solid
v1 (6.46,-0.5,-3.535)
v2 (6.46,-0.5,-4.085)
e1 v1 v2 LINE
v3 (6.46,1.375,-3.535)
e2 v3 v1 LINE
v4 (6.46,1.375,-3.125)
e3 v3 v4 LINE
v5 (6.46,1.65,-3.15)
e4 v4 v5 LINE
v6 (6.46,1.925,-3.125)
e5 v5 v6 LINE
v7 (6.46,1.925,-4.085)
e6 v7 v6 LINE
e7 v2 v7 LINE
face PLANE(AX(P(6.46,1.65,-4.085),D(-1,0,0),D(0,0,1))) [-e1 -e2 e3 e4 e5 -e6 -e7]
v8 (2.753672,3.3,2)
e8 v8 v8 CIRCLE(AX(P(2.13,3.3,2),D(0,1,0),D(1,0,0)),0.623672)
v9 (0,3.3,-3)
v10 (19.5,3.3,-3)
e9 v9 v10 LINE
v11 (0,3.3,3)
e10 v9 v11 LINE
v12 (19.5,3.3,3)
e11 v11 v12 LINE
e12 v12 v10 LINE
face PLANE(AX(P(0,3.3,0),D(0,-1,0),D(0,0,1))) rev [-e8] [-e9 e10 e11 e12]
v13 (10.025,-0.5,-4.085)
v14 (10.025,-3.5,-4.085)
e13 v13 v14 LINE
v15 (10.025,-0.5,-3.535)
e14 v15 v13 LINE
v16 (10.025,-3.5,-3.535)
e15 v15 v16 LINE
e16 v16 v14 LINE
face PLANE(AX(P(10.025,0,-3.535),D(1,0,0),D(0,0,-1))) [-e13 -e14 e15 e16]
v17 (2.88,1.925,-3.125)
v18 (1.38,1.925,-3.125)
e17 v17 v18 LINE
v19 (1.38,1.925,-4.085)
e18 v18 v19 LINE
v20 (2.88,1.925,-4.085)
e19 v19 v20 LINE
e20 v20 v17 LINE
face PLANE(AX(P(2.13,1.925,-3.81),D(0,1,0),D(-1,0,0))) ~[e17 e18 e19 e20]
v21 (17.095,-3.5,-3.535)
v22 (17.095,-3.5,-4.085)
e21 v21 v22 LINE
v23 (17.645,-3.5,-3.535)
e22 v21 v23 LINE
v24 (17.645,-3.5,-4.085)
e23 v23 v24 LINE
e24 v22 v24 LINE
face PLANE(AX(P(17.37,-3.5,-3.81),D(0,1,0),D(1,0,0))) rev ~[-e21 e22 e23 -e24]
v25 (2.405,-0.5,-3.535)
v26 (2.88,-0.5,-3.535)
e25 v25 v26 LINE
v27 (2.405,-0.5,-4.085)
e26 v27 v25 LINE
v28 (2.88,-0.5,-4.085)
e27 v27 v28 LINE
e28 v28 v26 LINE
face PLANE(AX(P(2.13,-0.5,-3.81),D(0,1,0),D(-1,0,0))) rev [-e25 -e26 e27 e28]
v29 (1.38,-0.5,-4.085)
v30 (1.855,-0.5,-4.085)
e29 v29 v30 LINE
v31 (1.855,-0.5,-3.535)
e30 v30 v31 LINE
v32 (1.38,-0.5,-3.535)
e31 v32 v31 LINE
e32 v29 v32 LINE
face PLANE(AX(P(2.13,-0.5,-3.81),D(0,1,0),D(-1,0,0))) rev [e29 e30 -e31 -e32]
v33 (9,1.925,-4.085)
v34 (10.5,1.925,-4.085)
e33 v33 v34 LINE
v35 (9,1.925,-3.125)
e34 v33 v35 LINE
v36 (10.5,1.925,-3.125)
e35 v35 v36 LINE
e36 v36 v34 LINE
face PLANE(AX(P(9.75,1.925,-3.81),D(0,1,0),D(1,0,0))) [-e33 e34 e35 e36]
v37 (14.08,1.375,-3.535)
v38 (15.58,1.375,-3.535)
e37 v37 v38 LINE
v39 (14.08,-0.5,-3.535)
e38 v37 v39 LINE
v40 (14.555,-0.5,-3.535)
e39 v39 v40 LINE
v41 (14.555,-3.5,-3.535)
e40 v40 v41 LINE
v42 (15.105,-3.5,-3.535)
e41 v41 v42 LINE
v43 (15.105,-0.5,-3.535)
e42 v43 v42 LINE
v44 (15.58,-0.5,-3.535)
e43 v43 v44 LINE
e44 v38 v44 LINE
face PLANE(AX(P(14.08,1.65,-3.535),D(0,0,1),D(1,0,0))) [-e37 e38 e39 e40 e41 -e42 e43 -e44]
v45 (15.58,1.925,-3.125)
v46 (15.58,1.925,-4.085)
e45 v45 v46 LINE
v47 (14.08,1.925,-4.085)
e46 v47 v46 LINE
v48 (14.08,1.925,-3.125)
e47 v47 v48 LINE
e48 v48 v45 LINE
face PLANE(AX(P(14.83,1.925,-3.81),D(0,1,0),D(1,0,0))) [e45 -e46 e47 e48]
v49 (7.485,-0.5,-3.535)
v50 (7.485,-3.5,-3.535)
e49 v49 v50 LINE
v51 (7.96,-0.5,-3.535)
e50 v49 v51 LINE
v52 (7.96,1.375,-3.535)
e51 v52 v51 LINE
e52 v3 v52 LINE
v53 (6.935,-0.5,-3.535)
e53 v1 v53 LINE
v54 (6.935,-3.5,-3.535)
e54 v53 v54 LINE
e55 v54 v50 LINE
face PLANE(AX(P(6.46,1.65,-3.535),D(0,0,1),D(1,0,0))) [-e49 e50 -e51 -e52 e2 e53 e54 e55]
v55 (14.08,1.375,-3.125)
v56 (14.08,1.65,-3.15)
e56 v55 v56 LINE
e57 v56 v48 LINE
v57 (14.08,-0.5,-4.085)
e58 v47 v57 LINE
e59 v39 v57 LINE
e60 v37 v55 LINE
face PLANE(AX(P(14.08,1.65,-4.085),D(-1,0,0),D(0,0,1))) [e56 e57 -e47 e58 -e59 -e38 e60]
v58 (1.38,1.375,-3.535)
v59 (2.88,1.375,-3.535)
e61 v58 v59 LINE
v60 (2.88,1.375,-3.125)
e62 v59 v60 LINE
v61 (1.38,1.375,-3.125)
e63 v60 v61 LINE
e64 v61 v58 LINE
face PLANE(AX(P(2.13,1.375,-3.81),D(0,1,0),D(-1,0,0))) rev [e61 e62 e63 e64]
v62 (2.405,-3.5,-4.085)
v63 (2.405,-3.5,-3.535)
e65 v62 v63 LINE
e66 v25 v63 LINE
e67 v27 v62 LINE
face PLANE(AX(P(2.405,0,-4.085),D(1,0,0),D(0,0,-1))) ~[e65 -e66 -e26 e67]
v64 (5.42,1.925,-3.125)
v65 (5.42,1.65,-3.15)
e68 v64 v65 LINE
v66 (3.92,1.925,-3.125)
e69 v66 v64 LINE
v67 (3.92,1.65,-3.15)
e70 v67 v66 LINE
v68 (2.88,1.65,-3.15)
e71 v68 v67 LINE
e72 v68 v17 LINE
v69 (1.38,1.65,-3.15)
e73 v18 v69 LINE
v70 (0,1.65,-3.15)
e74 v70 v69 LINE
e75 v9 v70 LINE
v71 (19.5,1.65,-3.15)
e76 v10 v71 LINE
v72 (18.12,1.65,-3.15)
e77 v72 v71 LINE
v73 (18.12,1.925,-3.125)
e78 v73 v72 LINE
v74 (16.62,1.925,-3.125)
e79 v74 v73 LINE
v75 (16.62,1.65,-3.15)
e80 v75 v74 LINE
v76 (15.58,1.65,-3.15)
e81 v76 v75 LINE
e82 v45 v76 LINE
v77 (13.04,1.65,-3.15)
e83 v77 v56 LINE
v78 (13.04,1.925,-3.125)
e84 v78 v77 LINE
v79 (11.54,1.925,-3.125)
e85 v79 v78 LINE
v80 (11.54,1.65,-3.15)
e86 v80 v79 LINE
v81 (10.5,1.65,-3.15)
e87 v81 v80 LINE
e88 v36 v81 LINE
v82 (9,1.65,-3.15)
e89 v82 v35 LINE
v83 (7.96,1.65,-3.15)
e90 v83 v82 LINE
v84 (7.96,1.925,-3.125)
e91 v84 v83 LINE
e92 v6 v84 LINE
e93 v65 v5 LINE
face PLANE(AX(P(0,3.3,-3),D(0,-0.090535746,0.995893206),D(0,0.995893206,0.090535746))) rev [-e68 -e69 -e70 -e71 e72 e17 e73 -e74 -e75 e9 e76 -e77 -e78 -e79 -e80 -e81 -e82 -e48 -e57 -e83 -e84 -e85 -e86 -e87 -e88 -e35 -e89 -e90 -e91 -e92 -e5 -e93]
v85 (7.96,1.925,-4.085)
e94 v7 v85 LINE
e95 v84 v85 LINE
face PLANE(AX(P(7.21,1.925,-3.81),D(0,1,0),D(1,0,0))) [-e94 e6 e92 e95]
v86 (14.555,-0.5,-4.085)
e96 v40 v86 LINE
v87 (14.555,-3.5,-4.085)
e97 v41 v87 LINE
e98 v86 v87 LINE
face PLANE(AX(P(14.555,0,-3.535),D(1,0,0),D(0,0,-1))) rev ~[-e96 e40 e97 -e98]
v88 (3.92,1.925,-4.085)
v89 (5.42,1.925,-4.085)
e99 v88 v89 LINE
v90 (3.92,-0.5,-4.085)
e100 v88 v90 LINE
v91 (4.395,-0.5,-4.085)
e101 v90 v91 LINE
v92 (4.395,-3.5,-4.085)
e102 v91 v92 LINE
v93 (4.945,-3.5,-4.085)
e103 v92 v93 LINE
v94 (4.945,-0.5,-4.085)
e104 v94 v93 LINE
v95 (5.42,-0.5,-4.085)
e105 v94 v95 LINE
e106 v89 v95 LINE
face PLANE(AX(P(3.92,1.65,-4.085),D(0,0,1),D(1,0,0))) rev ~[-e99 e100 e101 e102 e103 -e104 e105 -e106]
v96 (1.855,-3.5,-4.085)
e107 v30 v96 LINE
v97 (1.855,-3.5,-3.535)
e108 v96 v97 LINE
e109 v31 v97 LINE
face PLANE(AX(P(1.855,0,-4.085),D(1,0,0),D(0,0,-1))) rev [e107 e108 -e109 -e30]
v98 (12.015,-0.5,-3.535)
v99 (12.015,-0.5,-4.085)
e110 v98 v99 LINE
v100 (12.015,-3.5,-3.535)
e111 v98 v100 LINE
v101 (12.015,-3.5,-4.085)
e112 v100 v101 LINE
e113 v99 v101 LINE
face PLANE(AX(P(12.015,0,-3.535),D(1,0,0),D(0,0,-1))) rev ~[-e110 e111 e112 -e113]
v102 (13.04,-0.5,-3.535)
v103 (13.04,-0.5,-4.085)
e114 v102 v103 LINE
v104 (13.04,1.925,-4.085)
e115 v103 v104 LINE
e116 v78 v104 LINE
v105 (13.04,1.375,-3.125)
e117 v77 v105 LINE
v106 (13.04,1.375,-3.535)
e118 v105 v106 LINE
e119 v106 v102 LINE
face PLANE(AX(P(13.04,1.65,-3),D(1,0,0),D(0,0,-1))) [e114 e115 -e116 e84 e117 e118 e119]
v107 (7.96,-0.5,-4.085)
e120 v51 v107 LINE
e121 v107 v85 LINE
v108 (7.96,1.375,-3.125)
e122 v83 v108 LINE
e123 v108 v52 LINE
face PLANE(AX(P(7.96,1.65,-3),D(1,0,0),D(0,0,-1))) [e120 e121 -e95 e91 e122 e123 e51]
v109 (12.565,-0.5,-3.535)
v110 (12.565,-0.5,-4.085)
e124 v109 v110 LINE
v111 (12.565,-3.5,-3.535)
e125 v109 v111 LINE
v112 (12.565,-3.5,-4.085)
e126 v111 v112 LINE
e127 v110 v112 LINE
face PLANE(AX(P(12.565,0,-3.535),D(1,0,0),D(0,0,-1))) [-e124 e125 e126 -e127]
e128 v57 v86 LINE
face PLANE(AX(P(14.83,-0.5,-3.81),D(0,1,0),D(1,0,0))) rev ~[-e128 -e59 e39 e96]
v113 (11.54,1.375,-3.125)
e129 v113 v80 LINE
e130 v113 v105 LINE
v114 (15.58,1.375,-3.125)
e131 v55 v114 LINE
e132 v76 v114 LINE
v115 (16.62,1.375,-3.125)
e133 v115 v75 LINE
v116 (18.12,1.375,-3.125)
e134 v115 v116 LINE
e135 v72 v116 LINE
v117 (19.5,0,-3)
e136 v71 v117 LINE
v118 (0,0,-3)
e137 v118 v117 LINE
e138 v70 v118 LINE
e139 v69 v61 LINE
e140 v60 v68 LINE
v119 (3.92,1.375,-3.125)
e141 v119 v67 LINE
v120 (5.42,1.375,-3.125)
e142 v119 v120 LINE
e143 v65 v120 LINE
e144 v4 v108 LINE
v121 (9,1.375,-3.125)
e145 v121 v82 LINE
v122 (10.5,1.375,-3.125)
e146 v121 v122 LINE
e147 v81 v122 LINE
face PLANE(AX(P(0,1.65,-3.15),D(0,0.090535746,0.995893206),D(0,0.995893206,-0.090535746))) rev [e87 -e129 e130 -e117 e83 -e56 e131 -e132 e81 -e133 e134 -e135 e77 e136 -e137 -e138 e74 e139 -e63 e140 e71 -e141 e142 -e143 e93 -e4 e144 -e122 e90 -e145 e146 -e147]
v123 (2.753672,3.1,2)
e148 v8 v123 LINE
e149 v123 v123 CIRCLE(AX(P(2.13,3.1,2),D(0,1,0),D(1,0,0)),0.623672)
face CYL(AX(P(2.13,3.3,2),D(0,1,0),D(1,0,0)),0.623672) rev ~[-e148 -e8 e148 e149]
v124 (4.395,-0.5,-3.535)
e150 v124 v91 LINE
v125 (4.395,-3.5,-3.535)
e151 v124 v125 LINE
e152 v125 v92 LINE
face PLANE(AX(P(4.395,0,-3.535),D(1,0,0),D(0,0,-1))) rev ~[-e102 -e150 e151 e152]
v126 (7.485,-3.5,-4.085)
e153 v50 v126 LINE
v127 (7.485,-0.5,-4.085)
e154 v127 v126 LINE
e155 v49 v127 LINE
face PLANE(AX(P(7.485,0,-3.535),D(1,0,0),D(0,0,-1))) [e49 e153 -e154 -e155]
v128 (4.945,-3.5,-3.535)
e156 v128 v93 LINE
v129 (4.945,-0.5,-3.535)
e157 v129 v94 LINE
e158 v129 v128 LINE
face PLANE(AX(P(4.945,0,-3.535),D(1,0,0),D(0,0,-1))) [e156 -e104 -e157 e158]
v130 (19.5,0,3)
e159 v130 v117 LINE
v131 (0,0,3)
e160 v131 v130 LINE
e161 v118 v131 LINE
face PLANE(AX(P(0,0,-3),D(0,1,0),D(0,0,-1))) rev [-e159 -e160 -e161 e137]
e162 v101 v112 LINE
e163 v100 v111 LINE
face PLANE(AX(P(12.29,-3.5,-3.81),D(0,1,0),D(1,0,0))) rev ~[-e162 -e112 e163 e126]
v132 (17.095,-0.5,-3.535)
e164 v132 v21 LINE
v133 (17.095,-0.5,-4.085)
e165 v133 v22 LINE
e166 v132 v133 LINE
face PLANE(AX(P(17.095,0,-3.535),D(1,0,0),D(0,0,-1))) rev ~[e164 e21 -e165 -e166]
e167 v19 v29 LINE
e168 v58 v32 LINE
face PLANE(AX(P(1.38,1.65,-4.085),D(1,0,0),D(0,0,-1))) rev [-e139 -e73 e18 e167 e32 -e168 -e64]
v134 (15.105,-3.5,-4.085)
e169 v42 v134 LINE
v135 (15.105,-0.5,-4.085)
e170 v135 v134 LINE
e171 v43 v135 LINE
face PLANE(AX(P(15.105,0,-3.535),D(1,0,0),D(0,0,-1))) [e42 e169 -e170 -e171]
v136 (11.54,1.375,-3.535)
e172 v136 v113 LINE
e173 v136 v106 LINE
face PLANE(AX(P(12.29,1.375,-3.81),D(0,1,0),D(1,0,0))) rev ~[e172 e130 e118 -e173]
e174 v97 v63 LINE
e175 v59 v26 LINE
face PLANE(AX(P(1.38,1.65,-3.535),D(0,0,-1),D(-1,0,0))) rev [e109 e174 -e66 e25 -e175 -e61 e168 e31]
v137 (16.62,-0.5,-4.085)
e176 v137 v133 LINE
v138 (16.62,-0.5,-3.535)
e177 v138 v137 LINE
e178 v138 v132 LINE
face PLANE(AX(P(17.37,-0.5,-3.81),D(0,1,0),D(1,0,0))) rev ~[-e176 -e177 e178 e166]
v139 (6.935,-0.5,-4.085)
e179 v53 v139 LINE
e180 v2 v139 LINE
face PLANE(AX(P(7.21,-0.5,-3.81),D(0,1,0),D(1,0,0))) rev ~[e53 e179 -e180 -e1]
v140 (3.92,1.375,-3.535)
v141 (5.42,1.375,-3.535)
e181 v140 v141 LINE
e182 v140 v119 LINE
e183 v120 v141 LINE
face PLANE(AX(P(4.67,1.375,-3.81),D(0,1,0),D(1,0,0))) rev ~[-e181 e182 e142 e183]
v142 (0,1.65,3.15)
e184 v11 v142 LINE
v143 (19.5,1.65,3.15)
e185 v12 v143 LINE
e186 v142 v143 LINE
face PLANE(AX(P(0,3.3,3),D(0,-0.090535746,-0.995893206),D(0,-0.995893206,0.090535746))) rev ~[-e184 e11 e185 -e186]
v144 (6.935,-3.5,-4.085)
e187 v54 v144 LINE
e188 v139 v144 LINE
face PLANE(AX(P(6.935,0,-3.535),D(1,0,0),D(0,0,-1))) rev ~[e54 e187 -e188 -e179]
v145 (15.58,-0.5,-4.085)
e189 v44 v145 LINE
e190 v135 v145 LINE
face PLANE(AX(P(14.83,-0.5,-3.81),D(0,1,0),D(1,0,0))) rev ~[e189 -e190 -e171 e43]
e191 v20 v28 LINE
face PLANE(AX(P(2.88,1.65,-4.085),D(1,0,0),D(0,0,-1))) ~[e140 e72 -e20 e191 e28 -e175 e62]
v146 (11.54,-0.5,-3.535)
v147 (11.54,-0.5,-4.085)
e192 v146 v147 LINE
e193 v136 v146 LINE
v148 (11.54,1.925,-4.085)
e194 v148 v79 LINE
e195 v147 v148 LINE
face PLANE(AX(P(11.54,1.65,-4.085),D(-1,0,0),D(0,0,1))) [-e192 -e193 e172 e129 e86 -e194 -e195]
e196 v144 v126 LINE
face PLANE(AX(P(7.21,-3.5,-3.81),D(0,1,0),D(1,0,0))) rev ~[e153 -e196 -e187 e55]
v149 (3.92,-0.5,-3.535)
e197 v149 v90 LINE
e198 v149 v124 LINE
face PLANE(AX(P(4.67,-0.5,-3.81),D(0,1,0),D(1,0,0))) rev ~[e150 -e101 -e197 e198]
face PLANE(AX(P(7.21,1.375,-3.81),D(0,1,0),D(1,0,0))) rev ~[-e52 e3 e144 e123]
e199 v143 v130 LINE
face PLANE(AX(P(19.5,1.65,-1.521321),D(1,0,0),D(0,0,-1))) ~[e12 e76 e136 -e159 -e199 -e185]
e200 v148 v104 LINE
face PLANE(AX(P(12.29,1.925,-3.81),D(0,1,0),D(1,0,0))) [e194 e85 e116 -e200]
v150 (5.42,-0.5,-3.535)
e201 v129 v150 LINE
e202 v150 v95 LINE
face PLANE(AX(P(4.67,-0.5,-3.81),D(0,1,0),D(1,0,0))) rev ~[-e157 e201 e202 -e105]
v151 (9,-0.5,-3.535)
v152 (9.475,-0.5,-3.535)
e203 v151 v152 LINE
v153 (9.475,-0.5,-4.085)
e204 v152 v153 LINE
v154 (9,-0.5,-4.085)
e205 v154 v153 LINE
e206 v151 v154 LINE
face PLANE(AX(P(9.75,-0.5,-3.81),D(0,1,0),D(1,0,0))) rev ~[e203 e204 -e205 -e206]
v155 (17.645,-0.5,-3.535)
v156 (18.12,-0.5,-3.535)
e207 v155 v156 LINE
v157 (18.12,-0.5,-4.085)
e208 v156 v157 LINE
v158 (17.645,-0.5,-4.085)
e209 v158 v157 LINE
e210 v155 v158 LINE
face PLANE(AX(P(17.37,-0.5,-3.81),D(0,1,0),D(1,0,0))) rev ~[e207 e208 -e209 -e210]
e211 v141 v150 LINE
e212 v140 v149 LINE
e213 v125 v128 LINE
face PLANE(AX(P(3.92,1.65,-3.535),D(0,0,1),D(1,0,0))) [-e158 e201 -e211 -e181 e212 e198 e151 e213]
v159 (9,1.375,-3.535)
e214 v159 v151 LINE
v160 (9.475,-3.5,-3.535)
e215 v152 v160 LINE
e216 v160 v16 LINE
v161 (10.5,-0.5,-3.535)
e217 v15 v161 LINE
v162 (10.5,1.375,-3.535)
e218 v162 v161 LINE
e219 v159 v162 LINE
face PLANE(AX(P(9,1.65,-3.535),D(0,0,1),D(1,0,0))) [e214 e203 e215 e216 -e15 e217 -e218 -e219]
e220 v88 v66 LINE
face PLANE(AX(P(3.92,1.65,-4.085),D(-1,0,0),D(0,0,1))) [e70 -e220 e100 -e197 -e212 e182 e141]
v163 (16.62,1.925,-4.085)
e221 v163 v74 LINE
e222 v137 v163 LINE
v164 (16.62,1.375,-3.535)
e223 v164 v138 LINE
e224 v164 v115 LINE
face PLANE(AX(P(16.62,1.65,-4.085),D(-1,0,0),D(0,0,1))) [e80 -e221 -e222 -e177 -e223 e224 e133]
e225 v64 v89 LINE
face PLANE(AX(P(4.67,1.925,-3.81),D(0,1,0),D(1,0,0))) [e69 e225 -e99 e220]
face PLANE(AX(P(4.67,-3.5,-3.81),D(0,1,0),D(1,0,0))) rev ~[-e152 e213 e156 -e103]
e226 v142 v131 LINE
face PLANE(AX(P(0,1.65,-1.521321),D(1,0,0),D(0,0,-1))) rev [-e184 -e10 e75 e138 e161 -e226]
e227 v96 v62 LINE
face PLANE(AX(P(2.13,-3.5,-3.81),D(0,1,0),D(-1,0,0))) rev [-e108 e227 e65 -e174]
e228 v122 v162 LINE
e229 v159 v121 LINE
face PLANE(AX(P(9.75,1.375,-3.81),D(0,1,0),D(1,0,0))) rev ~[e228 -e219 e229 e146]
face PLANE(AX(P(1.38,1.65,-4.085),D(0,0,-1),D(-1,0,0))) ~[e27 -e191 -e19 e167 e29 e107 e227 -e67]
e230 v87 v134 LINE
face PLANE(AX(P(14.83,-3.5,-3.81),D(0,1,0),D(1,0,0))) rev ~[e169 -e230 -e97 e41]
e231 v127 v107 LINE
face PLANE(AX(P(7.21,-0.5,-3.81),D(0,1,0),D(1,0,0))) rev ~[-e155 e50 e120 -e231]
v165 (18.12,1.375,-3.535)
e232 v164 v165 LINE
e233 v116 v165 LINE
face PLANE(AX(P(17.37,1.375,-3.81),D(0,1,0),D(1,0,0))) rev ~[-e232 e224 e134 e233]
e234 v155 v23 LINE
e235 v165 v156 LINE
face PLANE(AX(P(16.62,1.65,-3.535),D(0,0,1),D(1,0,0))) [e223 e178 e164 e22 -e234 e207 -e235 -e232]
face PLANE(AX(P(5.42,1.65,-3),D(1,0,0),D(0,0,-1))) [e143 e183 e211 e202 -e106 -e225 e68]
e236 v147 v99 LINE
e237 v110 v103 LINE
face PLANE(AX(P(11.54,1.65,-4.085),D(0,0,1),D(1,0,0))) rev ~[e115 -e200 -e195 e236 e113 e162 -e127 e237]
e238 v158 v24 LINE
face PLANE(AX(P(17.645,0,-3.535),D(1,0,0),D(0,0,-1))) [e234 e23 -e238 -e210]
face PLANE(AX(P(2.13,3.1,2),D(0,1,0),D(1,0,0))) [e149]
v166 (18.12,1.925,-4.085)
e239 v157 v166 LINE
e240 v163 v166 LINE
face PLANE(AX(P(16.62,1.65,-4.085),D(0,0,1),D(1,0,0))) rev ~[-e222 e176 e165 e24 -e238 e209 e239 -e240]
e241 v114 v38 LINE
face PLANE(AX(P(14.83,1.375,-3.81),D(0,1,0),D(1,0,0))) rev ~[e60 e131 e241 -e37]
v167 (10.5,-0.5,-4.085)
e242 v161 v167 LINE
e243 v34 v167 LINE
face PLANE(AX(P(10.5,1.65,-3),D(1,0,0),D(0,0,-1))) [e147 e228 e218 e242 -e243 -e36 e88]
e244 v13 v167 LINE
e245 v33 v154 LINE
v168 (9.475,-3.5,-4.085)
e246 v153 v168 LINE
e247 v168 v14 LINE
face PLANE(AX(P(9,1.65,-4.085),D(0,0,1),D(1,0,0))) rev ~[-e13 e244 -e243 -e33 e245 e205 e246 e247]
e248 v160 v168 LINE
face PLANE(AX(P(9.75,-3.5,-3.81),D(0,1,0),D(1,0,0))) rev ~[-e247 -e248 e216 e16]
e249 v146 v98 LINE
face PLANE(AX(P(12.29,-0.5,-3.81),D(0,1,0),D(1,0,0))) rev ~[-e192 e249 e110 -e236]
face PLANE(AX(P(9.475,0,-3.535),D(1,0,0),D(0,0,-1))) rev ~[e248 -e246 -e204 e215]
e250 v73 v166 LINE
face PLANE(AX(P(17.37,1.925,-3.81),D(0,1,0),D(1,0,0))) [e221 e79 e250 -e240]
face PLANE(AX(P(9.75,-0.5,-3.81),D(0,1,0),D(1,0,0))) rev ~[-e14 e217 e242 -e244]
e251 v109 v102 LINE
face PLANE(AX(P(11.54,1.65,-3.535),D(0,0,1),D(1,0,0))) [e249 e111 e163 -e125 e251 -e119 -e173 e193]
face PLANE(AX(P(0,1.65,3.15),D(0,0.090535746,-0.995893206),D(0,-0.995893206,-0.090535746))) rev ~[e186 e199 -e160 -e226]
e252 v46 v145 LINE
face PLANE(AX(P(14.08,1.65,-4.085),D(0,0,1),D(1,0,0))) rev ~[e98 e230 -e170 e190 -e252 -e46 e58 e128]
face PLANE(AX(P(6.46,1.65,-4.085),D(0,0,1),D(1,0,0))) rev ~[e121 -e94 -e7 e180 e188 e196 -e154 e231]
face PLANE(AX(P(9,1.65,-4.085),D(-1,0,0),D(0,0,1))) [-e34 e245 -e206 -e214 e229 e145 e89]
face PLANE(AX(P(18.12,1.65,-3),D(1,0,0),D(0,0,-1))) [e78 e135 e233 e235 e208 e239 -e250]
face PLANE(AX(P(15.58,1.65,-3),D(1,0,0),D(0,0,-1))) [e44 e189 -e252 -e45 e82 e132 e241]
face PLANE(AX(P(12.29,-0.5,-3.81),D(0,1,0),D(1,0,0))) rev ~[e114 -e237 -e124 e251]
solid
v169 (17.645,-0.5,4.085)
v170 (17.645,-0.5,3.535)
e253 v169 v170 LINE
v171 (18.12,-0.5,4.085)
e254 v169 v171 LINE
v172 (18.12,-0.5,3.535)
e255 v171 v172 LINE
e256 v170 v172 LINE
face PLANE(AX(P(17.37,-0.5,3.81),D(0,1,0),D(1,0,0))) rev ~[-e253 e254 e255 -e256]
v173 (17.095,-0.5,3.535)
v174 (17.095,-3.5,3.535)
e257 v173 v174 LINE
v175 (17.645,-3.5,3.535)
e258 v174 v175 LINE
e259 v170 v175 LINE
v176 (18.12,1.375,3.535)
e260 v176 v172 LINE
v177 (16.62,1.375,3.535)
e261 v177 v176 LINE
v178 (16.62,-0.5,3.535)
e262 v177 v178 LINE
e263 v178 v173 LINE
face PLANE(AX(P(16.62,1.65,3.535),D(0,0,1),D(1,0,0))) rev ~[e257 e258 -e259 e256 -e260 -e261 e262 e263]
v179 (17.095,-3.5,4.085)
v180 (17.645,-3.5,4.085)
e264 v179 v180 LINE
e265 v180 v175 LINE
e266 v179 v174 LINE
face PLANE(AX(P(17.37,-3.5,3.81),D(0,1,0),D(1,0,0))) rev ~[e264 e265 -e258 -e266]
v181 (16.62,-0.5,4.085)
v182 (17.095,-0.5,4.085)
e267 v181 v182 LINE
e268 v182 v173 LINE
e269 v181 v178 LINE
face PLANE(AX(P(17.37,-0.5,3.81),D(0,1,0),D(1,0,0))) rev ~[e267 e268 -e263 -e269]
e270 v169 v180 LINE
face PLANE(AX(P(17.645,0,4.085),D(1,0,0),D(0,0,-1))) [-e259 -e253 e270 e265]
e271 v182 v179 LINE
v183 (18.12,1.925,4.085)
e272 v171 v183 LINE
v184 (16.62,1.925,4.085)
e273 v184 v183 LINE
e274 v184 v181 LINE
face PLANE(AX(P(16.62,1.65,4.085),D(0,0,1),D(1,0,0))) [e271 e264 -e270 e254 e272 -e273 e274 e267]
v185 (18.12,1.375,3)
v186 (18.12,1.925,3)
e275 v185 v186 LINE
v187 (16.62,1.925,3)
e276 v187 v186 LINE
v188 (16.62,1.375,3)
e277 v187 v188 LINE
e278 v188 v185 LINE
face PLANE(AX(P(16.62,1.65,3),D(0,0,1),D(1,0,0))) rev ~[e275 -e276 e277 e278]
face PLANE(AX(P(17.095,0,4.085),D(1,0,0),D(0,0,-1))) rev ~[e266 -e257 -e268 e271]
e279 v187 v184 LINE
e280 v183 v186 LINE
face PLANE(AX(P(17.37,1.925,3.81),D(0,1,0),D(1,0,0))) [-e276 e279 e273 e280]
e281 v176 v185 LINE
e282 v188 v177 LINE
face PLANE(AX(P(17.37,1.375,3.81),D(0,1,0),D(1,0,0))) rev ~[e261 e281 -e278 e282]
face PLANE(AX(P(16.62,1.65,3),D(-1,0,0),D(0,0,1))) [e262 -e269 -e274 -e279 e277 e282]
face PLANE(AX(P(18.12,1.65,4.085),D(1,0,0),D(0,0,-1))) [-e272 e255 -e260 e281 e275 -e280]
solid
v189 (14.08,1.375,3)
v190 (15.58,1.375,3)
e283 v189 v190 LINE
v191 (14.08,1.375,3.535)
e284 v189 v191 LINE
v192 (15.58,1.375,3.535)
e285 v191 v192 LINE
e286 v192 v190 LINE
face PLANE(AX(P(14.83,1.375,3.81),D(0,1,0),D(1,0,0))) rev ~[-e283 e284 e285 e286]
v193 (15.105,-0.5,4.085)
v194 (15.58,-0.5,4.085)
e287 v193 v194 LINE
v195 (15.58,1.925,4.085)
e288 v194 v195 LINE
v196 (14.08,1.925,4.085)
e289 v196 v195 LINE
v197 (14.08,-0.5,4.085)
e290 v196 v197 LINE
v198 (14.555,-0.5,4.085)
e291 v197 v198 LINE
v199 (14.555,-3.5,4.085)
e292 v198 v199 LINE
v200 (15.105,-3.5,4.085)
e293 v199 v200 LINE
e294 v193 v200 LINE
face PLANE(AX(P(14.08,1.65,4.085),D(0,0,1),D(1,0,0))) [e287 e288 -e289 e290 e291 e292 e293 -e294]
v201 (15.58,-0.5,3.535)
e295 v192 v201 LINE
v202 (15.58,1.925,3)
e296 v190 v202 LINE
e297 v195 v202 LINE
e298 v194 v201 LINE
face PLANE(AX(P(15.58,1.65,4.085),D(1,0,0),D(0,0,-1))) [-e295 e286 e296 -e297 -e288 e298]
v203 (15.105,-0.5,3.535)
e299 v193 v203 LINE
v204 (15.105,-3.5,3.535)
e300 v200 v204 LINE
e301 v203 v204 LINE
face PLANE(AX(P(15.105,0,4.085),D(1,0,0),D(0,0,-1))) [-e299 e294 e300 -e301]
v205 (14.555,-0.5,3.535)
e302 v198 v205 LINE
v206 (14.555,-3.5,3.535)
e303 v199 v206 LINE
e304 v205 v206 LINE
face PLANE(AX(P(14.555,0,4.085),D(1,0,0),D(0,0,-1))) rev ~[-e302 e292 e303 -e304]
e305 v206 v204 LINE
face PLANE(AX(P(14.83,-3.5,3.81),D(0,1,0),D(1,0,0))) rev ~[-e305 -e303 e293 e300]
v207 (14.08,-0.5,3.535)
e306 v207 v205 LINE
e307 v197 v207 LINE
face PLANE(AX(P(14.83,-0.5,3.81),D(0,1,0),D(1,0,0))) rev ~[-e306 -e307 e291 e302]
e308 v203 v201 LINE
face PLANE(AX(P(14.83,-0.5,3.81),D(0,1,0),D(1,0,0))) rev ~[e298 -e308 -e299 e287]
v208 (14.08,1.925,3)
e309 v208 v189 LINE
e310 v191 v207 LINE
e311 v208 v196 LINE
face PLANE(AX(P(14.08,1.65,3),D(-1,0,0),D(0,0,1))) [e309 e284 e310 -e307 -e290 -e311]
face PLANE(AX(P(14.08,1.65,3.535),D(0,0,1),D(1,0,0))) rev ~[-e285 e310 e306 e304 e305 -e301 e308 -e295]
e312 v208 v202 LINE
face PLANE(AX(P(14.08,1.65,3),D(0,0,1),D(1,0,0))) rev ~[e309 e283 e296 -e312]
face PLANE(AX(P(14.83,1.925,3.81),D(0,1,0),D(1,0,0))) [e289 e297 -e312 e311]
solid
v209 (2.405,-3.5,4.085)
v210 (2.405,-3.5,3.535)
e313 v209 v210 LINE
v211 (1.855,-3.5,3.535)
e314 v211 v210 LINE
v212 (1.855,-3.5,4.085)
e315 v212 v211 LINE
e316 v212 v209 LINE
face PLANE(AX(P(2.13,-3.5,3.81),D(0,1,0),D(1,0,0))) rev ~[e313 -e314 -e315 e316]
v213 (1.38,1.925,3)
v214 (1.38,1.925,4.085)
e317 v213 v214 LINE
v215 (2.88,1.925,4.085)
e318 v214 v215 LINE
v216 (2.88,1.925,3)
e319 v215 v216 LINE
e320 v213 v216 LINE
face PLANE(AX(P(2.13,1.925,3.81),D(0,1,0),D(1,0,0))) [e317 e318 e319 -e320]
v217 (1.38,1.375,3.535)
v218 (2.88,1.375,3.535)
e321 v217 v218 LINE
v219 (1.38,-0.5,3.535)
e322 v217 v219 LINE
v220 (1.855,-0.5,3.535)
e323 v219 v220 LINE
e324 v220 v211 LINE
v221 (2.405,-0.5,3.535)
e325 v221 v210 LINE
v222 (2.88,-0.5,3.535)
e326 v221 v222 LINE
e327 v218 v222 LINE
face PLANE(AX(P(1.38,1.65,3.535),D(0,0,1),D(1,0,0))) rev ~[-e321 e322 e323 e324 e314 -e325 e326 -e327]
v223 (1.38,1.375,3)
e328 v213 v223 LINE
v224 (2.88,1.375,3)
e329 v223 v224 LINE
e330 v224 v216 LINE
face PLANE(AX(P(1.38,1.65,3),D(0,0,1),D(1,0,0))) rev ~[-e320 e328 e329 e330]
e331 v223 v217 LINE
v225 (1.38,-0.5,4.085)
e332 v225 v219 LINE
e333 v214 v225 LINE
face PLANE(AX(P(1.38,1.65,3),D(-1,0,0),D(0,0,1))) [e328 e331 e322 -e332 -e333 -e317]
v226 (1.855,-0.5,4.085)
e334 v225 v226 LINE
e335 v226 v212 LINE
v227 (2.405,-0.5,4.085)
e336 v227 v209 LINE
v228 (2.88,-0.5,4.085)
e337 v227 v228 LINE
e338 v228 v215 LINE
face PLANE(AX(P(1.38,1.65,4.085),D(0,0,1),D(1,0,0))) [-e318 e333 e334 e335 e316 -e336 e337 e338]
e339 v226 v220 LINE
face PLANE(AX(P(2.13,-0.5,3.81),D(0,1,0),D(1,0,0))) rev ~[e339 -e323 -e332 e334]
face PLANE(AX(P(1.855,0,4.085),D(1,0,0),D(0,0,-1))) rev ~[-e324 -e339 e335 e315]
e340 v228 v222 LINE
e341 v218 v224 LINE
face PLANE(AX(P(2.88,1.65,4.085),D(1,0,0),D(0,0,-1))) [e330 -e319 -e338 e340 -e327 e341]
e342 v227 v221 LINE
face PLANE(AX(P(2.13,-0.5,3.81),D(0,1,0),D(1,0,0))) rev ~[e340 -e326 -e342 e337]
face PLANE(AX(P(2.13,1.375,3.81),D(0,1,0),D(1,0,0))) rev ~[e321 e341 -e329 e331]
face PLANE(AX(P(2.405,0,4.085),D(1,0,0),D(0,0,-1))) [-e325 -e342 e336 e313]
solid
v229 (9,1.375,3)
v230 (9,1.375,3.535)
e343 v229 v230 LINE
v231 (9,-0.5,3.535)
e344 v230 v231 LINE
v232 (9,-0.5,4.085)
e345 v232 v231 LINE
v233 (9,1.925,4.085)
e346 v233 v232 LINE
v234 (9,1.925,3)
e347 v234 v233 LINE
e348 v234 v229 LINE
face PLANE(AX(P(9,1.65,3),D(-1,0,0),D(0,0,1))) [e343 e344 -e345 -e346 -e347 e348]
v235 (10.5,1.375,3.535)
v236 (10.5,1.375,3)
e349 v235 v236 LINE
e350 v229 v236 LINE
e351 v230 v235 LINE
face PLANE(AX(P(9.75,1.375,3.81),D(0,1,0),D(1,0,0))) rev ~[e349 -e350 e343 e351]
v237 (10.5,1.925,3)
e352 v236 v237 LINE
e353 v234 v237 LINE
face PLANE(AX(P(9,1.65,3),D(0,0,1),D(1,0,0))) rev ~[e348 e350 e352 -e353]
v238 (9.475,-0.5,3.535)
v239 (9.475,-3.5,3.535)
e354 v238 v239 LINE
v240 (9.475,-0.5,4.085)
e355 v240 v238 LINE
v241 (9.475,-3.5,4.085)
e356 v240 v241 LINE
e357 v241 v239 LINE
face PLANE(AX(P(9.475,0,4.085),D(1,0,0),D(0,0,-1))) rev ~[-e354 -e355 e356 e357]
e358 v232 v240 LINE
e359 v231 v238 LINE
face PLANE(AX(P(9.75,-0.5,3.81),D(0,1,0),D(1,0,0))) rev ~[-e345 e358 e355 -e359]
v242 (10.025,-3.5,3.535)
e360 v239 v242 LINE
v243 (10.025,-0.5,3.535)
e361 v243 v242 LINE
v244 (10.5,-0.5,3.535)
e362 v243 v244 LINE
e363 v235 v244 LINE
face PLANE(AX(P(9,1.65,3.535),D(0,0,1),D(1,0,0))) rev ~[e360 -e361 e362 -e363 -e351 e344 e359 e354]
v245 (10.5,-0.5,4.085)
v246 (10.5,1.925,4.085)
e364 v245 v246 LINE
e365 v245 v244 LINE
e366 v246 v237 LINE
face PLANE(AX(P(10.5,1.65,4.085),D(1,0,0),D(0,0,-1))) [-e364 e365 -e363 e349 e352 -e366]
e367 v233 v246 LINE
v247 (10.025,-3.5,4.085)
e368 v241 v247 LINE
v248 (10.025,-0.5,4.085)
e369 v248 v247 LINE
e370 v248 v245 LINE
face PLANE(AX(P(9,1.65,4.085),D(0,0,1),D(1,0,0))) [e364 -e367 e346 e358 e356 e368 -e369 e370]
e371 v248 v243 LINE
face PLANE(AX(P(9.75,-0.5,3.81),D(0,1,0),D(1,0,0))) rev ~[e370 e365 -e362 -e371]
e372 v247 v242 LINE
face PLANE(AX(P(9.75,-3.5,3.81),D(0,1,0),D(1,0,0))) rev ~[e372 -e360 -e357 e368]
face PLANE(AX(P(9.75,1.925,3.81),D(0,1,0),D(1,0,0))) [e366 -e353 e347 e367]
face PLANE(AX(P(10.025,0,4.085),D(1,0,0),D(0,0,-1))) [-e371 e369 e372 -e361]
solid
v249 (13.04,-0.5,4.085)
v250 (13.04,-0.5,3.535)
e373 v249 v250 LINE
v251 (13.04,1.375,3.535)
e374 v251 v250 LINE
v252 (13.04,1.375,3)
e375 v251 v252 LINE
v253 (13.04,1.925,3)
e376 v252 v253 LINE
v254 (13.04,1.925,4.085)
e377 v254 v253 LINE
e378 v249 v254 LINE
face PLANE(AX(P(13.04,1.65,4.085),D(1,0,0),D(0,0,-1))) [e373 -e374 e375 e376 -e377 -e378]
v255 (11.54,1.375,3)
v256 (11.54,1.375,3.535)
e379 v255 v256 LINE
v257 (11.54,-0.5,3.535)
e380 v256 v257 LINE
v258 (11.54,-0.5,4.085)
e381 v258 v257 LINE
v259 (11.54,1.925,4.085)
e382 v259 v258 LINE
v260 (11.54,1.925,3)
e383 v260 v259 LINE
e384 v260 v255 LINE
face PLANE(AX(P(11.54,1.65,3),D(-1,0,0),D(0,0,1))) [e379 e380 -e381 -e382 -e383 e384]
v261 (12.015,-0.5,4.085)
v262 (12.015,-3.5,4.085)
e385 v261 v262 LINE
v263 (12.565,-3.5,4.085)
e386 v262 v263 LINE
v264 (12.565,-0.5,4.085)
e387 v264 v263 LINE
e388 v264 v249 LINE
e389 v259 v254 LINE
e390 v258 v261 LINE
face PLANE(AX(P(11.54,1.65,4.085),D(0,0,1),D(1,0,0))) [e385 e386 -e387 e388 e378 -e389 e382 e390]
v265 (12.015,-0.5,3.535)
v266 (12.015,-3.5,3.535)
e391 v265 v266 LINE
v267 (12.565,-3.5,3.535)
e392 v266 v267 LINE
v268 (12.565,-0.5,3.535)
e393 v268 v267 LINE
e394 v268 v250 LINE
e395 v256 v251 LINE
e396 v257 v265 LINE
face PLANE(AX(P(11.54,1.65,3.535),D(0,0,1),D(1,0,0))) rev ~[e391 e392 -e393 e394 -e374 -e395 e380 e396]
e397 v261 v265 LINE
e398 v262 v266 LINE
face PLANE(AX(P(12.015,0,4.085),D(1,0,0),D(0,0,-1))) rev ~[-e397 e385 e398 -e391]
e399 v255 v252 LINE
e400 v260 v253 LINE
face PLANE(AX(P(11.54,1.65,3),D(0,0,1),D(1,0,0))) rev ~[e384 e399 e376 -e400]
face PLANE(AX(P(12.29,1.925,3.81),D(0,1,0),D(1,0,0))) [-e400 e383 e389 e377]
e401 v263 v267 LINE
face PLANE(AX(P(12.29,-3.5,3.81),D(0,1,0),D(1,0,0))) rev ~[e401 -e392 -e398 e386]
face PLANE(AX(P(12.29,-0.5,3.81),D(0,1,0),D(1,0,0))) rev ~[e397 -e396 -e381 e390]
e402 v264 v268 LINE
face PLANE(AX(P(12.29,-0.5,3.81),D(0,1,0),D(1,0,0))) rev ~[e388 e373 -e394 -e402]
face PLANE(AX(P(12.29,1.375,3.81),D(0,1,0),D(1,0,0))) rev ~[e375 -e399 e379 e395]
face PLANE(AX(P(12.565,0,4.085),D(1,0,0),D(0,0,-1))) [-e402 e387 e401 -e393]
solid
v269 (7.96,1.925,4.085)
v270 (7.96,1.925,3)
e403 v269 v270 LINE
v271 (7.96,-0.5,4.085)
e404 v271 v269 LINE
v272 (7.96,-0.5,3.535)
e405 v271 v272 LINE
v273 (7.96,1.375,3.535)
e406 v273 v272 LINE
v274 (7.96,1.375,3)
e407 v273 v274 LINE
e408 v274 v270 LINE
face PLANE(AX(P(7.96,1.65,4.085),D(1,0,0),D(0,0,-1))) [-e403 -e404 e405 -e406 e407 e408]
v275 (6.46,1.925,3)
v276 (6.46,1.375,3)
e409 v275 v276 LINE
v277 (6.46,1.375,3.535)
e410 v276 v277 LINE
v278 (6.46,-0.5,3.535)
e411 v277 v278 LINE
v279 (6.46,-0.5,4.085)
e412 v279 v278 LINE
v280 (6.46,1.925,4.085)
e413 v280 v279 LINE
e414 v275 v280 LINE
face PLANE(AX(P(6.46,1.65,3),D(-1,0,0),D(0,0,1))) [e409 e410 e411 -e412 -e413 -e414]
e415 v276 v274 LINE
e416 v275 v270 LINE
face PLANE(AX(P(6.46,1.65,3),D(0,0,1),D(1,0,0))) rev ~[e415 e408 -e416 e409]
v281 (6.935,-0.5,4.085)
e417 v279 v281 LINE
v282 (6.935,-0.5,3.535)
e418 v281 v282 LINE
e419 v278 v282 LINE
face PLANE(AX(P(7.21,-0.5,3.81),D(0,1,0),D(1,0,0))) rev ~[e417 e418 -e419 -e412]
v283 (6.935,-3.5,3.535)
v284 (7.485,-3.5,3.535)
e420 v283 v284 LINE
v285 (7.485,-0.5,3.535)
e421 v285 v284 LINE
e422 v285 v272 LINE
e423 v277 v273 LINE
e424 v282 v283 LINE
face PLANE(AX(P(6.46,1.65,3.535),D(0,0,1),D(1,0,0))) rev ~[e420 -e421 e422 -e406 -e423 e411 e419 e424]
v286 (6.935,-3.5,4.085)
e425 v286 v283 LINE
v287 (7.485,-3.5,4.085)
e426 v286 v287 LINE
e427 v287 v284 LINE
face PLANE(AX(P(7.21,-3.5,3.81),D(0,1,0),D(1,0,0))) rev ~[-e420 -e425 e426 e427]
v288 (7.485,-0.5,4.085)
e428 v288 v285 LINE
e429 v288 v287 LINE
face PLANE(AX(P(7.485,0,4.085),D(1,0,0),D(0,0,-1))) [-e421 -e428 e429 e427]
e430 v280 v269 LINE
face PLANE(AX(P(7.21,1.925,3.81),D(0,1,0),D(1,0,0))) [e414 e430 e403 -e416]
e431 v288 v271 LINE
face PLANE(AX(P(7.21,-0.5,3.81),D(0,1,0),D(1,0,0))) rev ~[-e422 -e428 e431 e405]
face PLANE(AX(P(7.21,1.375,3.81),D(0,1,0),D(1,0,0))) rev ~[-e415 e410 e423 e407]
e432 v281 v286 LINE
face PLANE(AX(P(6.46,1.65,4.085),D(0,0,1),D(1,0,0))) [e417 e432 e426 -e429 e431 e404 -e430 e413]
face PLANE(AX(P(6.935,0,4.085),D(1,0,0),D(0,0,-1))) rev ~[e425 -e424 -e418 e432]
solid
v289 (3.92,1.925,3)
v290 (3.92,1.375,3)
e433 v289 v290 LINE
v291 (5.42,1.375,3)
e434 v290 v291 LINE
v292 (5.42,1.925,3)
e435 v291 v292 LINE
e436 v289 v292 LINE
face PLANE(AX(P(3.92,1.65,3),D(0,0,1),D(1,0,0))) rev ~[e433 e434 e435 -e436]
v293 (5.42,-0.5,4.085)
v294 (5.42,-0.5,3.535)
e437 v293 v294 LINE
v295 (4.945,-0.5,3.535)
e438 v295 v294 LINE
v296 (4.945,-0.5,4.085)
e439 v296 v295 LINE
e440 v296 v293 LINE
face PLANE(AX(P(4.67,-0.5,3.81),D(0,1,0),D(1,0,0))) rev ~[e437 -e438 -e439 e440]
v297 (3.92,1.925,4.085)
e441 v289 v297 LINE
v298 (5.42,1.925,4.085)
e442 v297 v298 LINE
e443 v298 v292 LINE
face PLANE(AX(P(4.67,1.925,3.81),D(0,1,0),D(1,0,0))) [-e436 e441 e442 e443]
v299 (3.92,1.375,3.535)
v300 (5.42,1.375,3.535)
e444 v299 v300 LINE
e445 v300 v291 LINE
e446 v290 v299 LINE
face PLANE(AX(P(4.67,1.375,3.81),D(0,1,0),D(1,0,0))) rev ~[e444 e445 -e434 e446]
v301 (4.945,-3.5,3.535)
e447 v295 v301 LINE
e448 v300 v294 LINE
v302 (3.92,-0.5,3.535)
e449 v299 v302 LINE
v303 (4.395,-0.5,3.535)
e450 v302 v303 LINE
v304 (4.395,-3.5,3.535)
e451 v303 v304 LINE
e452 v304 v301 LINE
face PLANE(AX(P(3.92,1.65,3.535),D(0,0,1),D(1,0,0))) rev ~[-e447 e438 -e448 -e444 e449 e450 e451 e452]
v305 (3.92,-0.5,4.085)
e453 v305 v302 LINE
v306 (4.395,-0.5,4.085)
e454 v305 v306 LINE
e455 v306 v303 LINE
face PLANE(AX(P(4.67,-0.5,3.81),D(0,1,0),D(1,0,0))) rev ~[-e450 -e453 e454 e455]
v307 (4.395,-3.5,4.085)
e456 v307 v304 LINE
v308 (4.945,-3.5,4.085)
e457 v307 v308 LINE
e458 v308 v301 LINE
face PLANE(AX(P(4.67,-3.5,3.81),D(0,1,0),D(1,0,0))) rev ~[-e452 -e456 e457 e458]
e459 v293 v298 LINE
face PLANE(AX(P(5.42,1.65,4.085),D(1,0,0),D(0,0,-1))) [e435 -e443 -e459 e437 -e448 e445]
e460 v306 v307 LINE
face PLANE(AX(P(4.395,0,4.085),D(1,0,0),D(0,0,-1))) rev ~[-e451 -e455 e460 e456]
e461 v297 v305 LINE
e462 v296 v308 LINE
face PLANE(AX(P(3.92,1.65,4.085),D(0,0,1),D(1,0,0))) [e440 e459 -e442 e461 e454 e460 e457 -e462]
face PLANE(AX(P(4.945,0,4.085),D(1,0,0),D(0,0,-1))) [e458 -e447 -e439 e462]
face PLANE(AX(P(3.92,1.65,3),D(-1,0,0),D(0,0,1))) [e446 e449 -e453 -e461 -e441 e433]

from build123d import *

# Parameters (mm, degrees)
BOSS_EXTRUDE1_DEPTH      = 19.5
SKETCH5_W                = 1.5
SKETCH5_H                = 1.085
BOSS_EXTRUDE2_DEPTH      = 0.275
SKETCH5_3_W              = 1.5
SKETCH5_3_H              = 0.55
BOSS_EXTRUDE4_DEPTH      = 2.15
SKETCH3_W                = 0.55
SKETCH3_H                = 0.55
BOSS_EXTRUDE5_DEPTH      = 3.5
LPATTERN1_COUNT          = 7
LPATTERN1_PITCH          = 2.54
MIRROR3_COPY_1_SKETCH_W  = 1.5
MIRROR3_COPY_1_SKETCH_H  = 1.085
MIRROR3_COPY_1_DEPTH     = 0.275
MIRROR3_COPY_2_SKETCH_W  = 1.5
MIRROR3_COPY_2_SKETCH_H  = 1.085
MIRROR3_COPY_2_DEPTH     = 0.275
MIRROR3_COPY_3_SKETCH_W  = 1.5
MIRROR3_COPY_3_SKETCH_H  = 1.085
MIRROR3_COPY_3_DEPTH     = 0.275
MIRROR3_COPY_4_SKETCH_W  = 1.5
MIRROR3_COPY_4_SKETCH_H  = 1.085
MIRROR3_COPY_4_DEPTH     = 0.275
MIRROR3_COPY_5_SKETCH_W  = 1.5
MIRROR3_COPY_5_SKETCH_H  = 1.085
MIRROR3_COPY_5_DEPTH     = 0.275
MIRROR3_COPY_6_SKETCH_W  = 1.5
MIRROR3_COPY_6_SKETCH_H  = 1.085
MIRROR3_COPY_6_DEPTH     = 0.275
MIRROR3_COPY_7_SKETCH_W  = 1.5
MIRROR3_COPY_7_SKETCH_H  = 0.55
MIRROR3_COPY_7_DEPTH     = 2.15
MIRROR3_COPY_8_SKETCH_W  = 1.5
MIRROR3_COPY_8_SKETCH_H  = 0.55
MIRROR3_COPY_8_DEPTH     = 2.15
MIRROR3_COPY_9_SKETCH_W  = 1.5
MIRROR3_COPY_9_SKETCH_H  = 0.55
MIRROR3_COPY_9_DEPTH     = 2.15
MIRROR3_COPY_10_SKETCH_W = 1.5
MIRROR3_COPY_10_SKETCH_H = 0.55
MIRROR3_COPY_10_DEPTH    = 2.15
MIRROR3_COPY_11_SKETCH_W = 1.5
MIRROR3_COPY_11_SKETCH_H = 0.55
MIRROR3_COPY_11_DEPTH    = 2.15
MIRROR3_COPY_12_SKETCH_W = 1.5
MIRROR3_COPY_12_SKETCH_H = 0.55
MIRROR3_COPY_12_DEPTH    = 2.15
MIRROR3_COPY_13_SKETCH_W = 0.55
MIRROR3_COPY_13_SKETCH_H = 0.55
MIRROR3_COPY_13_DEPTH    = 3.5
MIRROR3_COPY_14_SKETCH_W = 0.55
MIRROR3_COPY_14_SKETCH_H = 0.55
MIRROR3_COPY_14_DEPTH    = 3.5
MIRROR3_COPY_15_SKETCH_W = 0.55
MIRROR3_COPY_15_SKETCH_H = 0.55
MIRROR3_COPY_15_DEPTH    = 3.5
MIRROR3_COPY_16_SKETCH_W = 0.55
MIRROR3_COPY_16_SKETCH_H = 0.55
MIRROR3_COPY_16_DEPTH    = 3.5
MIRROR3_COPY_17_SKETCH_W = 0.55
MIRROR3_COPY_17_SKETCH_H = 0.55
MIRROR3_COPY_17_DEPTH    = 3.5
MIRROR3_COPY_18_SKETCH_W = 0.55
MIRROR3_COPY_18_SKETCH_H = 0.55
MIRROR3_COPY_18_DEPTH    = 3.5
SKETCH6_R                = 0.623672025
CUT_EXTRUDE1_DEPTH       = 0.2


with BuildPart() as part:
    # Sketch2 → Boss-Extrude1 (new body)
    with BuildSketch(Plane(origin=(0, 0, 0), x_dir=(0, 0, -1), z_dir=(1, 0, 0))):
        Polygon((0, 0), (0, 3.3), (-3, 3.3), (-3.15, 1.65), (-3, 0), align=None)
    boss_extrude1 = extrude(amount=BOSS_EXTRUDE1_DEPTH)

    # Mirror2: Boss-Extrude1 across plane
    add(boss_extrude1.mirror(Plane.XY))


with BuildPart() as body_2:
    # Sketch5 → Boss-Extrude2 (new, symmetric)
    with BuildSketch(Plane(origin=(0, 1.65, 0), x_dir=(1, 0, 0), z_dir=(0, 1, 0))):
        with Locations((2.13, -3.5425)):
            Rectangle(SKETCH5_W, SKETCH5_H)
    boss_extrude2 = extrude(amount=BOSS_EXTRUDE2_DEPTH, both=True)

    # Sketch5<3> → Boss-Extrude4 (add)
    with BuildSketch(Plane(origin=(0, 1.65, 0), x_dir=(1, 0, 0), z_dir=(0, 1, 0))):
        with Locations((2.13, -3.81)):
            Rectangle(SKETCH5_3_W, SKETCH5_3_H)
    boss_extrude4 = extrude(amount=-BOSS_EXTRUDE4_DEPTH)

    # Sketch3 → Boss-Extrude5 (add)
    with BuildSketch(Plane(origin=(0, 0, 0), x_dir=(1, 0, 0), z_dir=(0, 1, 0))):
        with Locations((2.13, -3.81)):
            Rectangle(SKETCH3_W, SKETCH3_H)
    boss_extrude5 = extrude(amount=-BOSS_EXTRUDE5_DEPTH)


with BuildPart() as lpattern1_1:
    # LPattern1: Boss-Extrude2, Boss-Extrude4, Boss-Extrude5 ×7
    with Locations(*[(i * LPATTERN1_PITCH, 0, 0) for i in range(1, LPATTERN1_COUNT)]):
        add(boss_extrude2)
        add(boss_extrude4)
        add(boss_extrude5)


with BuildPart() as part_1:
    add(part.part)

    # Mirror3: Boss-Extrude2, Boss-Extrude4, Boss-Extrude5 across plane
    add(boss_extrude2.mirror(Plane.XY))
    add(boss_extrude4.mirror(Plane.XY))
    add(boss_extrude5.mirror(Plane.XY))

    # Mirror3 copy 1 sketch → Mirror3 copy 1 (add, symmetric)
    with BuildSketch(Plane(origin=(2.54, 1.65, 0), x_dir=(1, 0, 0), z_dir=(0, 1, 0))):
        with Locations((2.13, 3.5425)):
            Rectangle(MIRROR3_COPY_1_SKETCH_W, MIRROR3_COPY_1_SKETCH_H)
    extrude(amount=MIRROR3_COPY_1_DEPTH, both=True)

    # Mirror3 copy 2 sketch → Mirror3 copy 2 (add, symmetric)
    with BuildSketch(Plane(origin=(5.08, 1.65, 0), x_dir=(1, 0, 0), z_dir=(0, 1, 0))):
        with Locations((2.13, 3.5425)):
            Rectangle(MIRROR3_COPY_2_SKETCH_W, MIRROR3_COPY_2_SKETCH_H)
    extrude(amount=MIRROR3_COPY_2_DEPTH, both=True)

    # Mirror3 copy 3 sketch → Mirror3 copy 3 (add, symmetric)
    with BuildSketch(Plane(origin=(7.62, 1.65, 0), x_dir=(1, 0, 0), z_dir=(0, 1, 0))):
        with Locations((2.13, 3.5425)):
            Rectangle(MIRROR3_COPY_3_SKETCH_W, MIRROR3_COPY_3_SKETCH_H)
    extrude(amount=MIRROR3_COPY_3_DEPTH, both=True)

    # Mirror3 copy 4 sketch → Mirror3 copy 4 (add, symmetric)
    with BuildSketch(Plane(origin=(10.16, 1.65, 0), x_dir=(1, 0, 0), z_dir=(0, 1, 0))):
        with Locations((2.13, 3.5425)):
            Rectangle(MIRROR3_COPY_4_SKETCH_W, MIRROR3_COPY_4_SKETCH_H)
    extrude(amount=MIRROR3_COPY_4_DEPTH, both=True)

    # Mirror3 copy 5 sketch → Mirror3 copy 5 (add, symmetric)
    with BuildSketch(Plane(origin=(12.7, 1.65, 0), x_dir=(1, 0, 0), z_dir=(0, 1, 0))):
        with Locations((2.13, 3.5425)):
            Rectangle(MIRROR3_COPY_5_SKETCH_W, MIRROR3_COPY_5_SKETCH_H)
    extrude(amount=MIRROR3_COPY_5_DEPTH, both=True)

    # Mirror3 copy 6 sketch → Mirror3 copy 6 (add, symmetric)
    with BuildSketch(Plane(origin=(15.24, 1.65, 0), x_dir=(1, 0, 0), z_dir=(0, 1, 0))):
        with Locations((2.13, 3.5425)):
            Rectangle(MIRROR3_COPY_6_SKETCH_W, MIRROR3_COPY_6_SKETCH_H)
    extrude(amount=MIRROR3_COPY_6_DEPTH, both=True)

    # Mirror3 copy 7 sketch → Mirror3 copy 7 (add)
    with BuildSketch(Plane(origin=(2.54, 1.65, 0), x_dir=(1, 0, 0), z_dir=(0, 1, 0))):
        with Locations((2.13, 3.81)):
            Rectangle(MIRROR3_COPY_7_SKETCH_W, MIRROR3_COPY_7_SKETCH_H)
    extrude(amount=-MIRROR3_COPY_7_DEPTH)

    # Mirror3 copy 8 sketch → Mirror3 copy 8 (add)
    with BuildSketch(Plane(origin=(5.08, 1.65, 0), x_dir=(1, 0, 0), z_dir=(0, 1, 0))):
        with Locations((2.13, 3.81)):
            Rectangle(MIRROR3_COPY_8_SKETCH_W, MIRROR3_COPY_8_SKETCH_H)
    extrude(amount=-MIRROR3_COPY_8_DEPTH)

    # Mirror3 copy 9 sketch → Mirror3 copy 9 (add)
    with BuildSketch(Plane(origin=(7.62, 1.65, 0), x_dir=(1, 0, 0), z_dir=(0, 1, 0))):
        with Locations((2.13, 3.81)):
            Rectangle(MIRROR3_COPY_9_SKETCH_W, MIRROR3_COPY_9_SKETCH_H)
    extrude(amount=-MIRROR3_COPY_9_DEPTH)

    # Mirror3 copy 10 sketch → Mirror3 copy 10 (add)
    with BuildSketch(Plane(origin=(10.16, 1.65, 0), x_dir=(1, 0, 0), z_dir=(0, 1, 0))):
        with Locations((2.13, 3.81)):
            Rectangle(MIRROR3_COPY_10_SKETCH_W, MIRROR3_COPY_10_SKETCH_H)
    extrude(amount=-MIRROR3_COPY_10_DEPTH)

    # Mirror3 copy 11 sketch → Mirror3 copy 11 (add)
    with BuildSketch(Plane(origin=(12.7, 1.65, 0), x_dir=(1, 0, 0), z_dir=(0, 1, 0))):
        with Locations((2.13, 3.81)):
            Rectangle(MIRROR3_COPY_11_SKETCH_W, MIRROR3_COPY_11_SKETCH_H)
    extrude(amount=-MIRROR3_COPY_11_DEPTH)

    # Mirror3 copy 12 sketch → Mirror3 copy 12 (add)
    with BuildSketch(Plane(origin=(15.24, 1.65, 0), x_dir=(1, 0, 0), z_dir=(0, 1, 0))):
        with Locations((2.13, 3.81)):
            Rectangle(MIRROR3_COPY_12_SKETCH_W, MIRROR3_COPY_12_SKETCH_H)
    extrude(amount=-MIRROR3_COPY_12_DEPTH)

    # Mirror3 copy 13 sketch → Mirror3 copy 13 (add)
    with BuildSketch(Plane(origin=(2.54, 0, 0), x_dir=(1, 0, 0), z_dir=(0, 1, 0))):
        with Locations((2.13, 3.81)):
            Rectangle(MIRROR3_COPY_13_SKETCH_W, MIRROR3_COPY_13_SKETCH_H)
    extrude(amount=-MIRROR3_COPY_13_DEPTH)

    # Mirror3 copy 14 sketch → Mirror3 copy 14 (add)
    with BuildSketch(Plane(origin=(5.08, 0, 0), x_dir=(1, 0, 0), z_dir=(0, 1, 0))):
        with Locations((2.13, 3.81)):
            Rectangle(MIRROR3_COPY_14_SKETCH_W, MIRROR3_COPY_14_SKETCH_H)
    extrude(amount=-MIRROR3_COPY_14_DEPTH)

    # Mirror3 copy 15 sketch → Mirror3 copy 15 (add)
    with BuildSketch(Plane(origin=(7.62, 0, 0), x_dir=(1, 0, 0), z_dir=(0, 1, 0))):
        with Locations((2.13, 3.81)):
            Rectangle(MIRROR3_COPY_15_SKETCH_W, MIRROR3_COPY_15_SKETCH_H)
    extrude(amount=-MIRROR3_COPY_15_DEPTH)

    # Mirror3 copy 16 sketch → Mirror3 copy 16 (add)
    with BuildSketch(Plane(origin=(10.16, 0, 0), x_dir=(1, 0, 0), z_dir=(0, 1, 0))):
        with Locations((2.13, 3.81)):
            Rectangle(MIRROR3_COPY_16_SKETCH_W, MIRROR3_COPY_16_SKETCH_H)
    extrude(amount=-MIRROR3_COPY_16_DEPTH)

    # Mirror3 copy 17 sketch → Mirror3 copy 17 (add)
    with BuildSketch(Plane(origin=(12.7, 0, 0), x_dir=(1, 0, 0), z_dir=(0, 1, 0))):
        with Locations((2.13, 3.81)):
            Rectangle(MIRROR3_COPY_17_SKETCH_W, MIRROR3_COPY_17_SKETCH_H)
    extrude(amount=-MIRROR3_COPY_17_DEPTH)

    # Mirror3 copy 18 sketch → Mirror3 copy 18 (add)
    with BuildSketch(Plane(origin=(15.24, 0, 0), x_dir=(1, 0, 0), z_dir=(0, 1, 0))):
        with Locations((2.13, 3.81)):
            Rectangle(MIRROR3_COPY_18_SKETCH_W, MIRROR3_COPY_18_SKETCH_H)
    extrude(amount=-MIRROR3_COPY_18_DEPTH)

    # Sketch6 → Cut-Extrude1 (cut)
    with BuildSketch(Plane(origin=(0, 3.3, 0), x_dir=(1, 0, 0), z_dir=(0, 1, 0))):
        with Locations((2.13, -2)):
            Circle(SKETCH6_R)
    extrude(amount=-CUT_EXTRUDE1_DEPTH, mode=Mode.SUBTRACT)


solid = Compound([body_2.part, lpattern1_1.part, part_1.part])
